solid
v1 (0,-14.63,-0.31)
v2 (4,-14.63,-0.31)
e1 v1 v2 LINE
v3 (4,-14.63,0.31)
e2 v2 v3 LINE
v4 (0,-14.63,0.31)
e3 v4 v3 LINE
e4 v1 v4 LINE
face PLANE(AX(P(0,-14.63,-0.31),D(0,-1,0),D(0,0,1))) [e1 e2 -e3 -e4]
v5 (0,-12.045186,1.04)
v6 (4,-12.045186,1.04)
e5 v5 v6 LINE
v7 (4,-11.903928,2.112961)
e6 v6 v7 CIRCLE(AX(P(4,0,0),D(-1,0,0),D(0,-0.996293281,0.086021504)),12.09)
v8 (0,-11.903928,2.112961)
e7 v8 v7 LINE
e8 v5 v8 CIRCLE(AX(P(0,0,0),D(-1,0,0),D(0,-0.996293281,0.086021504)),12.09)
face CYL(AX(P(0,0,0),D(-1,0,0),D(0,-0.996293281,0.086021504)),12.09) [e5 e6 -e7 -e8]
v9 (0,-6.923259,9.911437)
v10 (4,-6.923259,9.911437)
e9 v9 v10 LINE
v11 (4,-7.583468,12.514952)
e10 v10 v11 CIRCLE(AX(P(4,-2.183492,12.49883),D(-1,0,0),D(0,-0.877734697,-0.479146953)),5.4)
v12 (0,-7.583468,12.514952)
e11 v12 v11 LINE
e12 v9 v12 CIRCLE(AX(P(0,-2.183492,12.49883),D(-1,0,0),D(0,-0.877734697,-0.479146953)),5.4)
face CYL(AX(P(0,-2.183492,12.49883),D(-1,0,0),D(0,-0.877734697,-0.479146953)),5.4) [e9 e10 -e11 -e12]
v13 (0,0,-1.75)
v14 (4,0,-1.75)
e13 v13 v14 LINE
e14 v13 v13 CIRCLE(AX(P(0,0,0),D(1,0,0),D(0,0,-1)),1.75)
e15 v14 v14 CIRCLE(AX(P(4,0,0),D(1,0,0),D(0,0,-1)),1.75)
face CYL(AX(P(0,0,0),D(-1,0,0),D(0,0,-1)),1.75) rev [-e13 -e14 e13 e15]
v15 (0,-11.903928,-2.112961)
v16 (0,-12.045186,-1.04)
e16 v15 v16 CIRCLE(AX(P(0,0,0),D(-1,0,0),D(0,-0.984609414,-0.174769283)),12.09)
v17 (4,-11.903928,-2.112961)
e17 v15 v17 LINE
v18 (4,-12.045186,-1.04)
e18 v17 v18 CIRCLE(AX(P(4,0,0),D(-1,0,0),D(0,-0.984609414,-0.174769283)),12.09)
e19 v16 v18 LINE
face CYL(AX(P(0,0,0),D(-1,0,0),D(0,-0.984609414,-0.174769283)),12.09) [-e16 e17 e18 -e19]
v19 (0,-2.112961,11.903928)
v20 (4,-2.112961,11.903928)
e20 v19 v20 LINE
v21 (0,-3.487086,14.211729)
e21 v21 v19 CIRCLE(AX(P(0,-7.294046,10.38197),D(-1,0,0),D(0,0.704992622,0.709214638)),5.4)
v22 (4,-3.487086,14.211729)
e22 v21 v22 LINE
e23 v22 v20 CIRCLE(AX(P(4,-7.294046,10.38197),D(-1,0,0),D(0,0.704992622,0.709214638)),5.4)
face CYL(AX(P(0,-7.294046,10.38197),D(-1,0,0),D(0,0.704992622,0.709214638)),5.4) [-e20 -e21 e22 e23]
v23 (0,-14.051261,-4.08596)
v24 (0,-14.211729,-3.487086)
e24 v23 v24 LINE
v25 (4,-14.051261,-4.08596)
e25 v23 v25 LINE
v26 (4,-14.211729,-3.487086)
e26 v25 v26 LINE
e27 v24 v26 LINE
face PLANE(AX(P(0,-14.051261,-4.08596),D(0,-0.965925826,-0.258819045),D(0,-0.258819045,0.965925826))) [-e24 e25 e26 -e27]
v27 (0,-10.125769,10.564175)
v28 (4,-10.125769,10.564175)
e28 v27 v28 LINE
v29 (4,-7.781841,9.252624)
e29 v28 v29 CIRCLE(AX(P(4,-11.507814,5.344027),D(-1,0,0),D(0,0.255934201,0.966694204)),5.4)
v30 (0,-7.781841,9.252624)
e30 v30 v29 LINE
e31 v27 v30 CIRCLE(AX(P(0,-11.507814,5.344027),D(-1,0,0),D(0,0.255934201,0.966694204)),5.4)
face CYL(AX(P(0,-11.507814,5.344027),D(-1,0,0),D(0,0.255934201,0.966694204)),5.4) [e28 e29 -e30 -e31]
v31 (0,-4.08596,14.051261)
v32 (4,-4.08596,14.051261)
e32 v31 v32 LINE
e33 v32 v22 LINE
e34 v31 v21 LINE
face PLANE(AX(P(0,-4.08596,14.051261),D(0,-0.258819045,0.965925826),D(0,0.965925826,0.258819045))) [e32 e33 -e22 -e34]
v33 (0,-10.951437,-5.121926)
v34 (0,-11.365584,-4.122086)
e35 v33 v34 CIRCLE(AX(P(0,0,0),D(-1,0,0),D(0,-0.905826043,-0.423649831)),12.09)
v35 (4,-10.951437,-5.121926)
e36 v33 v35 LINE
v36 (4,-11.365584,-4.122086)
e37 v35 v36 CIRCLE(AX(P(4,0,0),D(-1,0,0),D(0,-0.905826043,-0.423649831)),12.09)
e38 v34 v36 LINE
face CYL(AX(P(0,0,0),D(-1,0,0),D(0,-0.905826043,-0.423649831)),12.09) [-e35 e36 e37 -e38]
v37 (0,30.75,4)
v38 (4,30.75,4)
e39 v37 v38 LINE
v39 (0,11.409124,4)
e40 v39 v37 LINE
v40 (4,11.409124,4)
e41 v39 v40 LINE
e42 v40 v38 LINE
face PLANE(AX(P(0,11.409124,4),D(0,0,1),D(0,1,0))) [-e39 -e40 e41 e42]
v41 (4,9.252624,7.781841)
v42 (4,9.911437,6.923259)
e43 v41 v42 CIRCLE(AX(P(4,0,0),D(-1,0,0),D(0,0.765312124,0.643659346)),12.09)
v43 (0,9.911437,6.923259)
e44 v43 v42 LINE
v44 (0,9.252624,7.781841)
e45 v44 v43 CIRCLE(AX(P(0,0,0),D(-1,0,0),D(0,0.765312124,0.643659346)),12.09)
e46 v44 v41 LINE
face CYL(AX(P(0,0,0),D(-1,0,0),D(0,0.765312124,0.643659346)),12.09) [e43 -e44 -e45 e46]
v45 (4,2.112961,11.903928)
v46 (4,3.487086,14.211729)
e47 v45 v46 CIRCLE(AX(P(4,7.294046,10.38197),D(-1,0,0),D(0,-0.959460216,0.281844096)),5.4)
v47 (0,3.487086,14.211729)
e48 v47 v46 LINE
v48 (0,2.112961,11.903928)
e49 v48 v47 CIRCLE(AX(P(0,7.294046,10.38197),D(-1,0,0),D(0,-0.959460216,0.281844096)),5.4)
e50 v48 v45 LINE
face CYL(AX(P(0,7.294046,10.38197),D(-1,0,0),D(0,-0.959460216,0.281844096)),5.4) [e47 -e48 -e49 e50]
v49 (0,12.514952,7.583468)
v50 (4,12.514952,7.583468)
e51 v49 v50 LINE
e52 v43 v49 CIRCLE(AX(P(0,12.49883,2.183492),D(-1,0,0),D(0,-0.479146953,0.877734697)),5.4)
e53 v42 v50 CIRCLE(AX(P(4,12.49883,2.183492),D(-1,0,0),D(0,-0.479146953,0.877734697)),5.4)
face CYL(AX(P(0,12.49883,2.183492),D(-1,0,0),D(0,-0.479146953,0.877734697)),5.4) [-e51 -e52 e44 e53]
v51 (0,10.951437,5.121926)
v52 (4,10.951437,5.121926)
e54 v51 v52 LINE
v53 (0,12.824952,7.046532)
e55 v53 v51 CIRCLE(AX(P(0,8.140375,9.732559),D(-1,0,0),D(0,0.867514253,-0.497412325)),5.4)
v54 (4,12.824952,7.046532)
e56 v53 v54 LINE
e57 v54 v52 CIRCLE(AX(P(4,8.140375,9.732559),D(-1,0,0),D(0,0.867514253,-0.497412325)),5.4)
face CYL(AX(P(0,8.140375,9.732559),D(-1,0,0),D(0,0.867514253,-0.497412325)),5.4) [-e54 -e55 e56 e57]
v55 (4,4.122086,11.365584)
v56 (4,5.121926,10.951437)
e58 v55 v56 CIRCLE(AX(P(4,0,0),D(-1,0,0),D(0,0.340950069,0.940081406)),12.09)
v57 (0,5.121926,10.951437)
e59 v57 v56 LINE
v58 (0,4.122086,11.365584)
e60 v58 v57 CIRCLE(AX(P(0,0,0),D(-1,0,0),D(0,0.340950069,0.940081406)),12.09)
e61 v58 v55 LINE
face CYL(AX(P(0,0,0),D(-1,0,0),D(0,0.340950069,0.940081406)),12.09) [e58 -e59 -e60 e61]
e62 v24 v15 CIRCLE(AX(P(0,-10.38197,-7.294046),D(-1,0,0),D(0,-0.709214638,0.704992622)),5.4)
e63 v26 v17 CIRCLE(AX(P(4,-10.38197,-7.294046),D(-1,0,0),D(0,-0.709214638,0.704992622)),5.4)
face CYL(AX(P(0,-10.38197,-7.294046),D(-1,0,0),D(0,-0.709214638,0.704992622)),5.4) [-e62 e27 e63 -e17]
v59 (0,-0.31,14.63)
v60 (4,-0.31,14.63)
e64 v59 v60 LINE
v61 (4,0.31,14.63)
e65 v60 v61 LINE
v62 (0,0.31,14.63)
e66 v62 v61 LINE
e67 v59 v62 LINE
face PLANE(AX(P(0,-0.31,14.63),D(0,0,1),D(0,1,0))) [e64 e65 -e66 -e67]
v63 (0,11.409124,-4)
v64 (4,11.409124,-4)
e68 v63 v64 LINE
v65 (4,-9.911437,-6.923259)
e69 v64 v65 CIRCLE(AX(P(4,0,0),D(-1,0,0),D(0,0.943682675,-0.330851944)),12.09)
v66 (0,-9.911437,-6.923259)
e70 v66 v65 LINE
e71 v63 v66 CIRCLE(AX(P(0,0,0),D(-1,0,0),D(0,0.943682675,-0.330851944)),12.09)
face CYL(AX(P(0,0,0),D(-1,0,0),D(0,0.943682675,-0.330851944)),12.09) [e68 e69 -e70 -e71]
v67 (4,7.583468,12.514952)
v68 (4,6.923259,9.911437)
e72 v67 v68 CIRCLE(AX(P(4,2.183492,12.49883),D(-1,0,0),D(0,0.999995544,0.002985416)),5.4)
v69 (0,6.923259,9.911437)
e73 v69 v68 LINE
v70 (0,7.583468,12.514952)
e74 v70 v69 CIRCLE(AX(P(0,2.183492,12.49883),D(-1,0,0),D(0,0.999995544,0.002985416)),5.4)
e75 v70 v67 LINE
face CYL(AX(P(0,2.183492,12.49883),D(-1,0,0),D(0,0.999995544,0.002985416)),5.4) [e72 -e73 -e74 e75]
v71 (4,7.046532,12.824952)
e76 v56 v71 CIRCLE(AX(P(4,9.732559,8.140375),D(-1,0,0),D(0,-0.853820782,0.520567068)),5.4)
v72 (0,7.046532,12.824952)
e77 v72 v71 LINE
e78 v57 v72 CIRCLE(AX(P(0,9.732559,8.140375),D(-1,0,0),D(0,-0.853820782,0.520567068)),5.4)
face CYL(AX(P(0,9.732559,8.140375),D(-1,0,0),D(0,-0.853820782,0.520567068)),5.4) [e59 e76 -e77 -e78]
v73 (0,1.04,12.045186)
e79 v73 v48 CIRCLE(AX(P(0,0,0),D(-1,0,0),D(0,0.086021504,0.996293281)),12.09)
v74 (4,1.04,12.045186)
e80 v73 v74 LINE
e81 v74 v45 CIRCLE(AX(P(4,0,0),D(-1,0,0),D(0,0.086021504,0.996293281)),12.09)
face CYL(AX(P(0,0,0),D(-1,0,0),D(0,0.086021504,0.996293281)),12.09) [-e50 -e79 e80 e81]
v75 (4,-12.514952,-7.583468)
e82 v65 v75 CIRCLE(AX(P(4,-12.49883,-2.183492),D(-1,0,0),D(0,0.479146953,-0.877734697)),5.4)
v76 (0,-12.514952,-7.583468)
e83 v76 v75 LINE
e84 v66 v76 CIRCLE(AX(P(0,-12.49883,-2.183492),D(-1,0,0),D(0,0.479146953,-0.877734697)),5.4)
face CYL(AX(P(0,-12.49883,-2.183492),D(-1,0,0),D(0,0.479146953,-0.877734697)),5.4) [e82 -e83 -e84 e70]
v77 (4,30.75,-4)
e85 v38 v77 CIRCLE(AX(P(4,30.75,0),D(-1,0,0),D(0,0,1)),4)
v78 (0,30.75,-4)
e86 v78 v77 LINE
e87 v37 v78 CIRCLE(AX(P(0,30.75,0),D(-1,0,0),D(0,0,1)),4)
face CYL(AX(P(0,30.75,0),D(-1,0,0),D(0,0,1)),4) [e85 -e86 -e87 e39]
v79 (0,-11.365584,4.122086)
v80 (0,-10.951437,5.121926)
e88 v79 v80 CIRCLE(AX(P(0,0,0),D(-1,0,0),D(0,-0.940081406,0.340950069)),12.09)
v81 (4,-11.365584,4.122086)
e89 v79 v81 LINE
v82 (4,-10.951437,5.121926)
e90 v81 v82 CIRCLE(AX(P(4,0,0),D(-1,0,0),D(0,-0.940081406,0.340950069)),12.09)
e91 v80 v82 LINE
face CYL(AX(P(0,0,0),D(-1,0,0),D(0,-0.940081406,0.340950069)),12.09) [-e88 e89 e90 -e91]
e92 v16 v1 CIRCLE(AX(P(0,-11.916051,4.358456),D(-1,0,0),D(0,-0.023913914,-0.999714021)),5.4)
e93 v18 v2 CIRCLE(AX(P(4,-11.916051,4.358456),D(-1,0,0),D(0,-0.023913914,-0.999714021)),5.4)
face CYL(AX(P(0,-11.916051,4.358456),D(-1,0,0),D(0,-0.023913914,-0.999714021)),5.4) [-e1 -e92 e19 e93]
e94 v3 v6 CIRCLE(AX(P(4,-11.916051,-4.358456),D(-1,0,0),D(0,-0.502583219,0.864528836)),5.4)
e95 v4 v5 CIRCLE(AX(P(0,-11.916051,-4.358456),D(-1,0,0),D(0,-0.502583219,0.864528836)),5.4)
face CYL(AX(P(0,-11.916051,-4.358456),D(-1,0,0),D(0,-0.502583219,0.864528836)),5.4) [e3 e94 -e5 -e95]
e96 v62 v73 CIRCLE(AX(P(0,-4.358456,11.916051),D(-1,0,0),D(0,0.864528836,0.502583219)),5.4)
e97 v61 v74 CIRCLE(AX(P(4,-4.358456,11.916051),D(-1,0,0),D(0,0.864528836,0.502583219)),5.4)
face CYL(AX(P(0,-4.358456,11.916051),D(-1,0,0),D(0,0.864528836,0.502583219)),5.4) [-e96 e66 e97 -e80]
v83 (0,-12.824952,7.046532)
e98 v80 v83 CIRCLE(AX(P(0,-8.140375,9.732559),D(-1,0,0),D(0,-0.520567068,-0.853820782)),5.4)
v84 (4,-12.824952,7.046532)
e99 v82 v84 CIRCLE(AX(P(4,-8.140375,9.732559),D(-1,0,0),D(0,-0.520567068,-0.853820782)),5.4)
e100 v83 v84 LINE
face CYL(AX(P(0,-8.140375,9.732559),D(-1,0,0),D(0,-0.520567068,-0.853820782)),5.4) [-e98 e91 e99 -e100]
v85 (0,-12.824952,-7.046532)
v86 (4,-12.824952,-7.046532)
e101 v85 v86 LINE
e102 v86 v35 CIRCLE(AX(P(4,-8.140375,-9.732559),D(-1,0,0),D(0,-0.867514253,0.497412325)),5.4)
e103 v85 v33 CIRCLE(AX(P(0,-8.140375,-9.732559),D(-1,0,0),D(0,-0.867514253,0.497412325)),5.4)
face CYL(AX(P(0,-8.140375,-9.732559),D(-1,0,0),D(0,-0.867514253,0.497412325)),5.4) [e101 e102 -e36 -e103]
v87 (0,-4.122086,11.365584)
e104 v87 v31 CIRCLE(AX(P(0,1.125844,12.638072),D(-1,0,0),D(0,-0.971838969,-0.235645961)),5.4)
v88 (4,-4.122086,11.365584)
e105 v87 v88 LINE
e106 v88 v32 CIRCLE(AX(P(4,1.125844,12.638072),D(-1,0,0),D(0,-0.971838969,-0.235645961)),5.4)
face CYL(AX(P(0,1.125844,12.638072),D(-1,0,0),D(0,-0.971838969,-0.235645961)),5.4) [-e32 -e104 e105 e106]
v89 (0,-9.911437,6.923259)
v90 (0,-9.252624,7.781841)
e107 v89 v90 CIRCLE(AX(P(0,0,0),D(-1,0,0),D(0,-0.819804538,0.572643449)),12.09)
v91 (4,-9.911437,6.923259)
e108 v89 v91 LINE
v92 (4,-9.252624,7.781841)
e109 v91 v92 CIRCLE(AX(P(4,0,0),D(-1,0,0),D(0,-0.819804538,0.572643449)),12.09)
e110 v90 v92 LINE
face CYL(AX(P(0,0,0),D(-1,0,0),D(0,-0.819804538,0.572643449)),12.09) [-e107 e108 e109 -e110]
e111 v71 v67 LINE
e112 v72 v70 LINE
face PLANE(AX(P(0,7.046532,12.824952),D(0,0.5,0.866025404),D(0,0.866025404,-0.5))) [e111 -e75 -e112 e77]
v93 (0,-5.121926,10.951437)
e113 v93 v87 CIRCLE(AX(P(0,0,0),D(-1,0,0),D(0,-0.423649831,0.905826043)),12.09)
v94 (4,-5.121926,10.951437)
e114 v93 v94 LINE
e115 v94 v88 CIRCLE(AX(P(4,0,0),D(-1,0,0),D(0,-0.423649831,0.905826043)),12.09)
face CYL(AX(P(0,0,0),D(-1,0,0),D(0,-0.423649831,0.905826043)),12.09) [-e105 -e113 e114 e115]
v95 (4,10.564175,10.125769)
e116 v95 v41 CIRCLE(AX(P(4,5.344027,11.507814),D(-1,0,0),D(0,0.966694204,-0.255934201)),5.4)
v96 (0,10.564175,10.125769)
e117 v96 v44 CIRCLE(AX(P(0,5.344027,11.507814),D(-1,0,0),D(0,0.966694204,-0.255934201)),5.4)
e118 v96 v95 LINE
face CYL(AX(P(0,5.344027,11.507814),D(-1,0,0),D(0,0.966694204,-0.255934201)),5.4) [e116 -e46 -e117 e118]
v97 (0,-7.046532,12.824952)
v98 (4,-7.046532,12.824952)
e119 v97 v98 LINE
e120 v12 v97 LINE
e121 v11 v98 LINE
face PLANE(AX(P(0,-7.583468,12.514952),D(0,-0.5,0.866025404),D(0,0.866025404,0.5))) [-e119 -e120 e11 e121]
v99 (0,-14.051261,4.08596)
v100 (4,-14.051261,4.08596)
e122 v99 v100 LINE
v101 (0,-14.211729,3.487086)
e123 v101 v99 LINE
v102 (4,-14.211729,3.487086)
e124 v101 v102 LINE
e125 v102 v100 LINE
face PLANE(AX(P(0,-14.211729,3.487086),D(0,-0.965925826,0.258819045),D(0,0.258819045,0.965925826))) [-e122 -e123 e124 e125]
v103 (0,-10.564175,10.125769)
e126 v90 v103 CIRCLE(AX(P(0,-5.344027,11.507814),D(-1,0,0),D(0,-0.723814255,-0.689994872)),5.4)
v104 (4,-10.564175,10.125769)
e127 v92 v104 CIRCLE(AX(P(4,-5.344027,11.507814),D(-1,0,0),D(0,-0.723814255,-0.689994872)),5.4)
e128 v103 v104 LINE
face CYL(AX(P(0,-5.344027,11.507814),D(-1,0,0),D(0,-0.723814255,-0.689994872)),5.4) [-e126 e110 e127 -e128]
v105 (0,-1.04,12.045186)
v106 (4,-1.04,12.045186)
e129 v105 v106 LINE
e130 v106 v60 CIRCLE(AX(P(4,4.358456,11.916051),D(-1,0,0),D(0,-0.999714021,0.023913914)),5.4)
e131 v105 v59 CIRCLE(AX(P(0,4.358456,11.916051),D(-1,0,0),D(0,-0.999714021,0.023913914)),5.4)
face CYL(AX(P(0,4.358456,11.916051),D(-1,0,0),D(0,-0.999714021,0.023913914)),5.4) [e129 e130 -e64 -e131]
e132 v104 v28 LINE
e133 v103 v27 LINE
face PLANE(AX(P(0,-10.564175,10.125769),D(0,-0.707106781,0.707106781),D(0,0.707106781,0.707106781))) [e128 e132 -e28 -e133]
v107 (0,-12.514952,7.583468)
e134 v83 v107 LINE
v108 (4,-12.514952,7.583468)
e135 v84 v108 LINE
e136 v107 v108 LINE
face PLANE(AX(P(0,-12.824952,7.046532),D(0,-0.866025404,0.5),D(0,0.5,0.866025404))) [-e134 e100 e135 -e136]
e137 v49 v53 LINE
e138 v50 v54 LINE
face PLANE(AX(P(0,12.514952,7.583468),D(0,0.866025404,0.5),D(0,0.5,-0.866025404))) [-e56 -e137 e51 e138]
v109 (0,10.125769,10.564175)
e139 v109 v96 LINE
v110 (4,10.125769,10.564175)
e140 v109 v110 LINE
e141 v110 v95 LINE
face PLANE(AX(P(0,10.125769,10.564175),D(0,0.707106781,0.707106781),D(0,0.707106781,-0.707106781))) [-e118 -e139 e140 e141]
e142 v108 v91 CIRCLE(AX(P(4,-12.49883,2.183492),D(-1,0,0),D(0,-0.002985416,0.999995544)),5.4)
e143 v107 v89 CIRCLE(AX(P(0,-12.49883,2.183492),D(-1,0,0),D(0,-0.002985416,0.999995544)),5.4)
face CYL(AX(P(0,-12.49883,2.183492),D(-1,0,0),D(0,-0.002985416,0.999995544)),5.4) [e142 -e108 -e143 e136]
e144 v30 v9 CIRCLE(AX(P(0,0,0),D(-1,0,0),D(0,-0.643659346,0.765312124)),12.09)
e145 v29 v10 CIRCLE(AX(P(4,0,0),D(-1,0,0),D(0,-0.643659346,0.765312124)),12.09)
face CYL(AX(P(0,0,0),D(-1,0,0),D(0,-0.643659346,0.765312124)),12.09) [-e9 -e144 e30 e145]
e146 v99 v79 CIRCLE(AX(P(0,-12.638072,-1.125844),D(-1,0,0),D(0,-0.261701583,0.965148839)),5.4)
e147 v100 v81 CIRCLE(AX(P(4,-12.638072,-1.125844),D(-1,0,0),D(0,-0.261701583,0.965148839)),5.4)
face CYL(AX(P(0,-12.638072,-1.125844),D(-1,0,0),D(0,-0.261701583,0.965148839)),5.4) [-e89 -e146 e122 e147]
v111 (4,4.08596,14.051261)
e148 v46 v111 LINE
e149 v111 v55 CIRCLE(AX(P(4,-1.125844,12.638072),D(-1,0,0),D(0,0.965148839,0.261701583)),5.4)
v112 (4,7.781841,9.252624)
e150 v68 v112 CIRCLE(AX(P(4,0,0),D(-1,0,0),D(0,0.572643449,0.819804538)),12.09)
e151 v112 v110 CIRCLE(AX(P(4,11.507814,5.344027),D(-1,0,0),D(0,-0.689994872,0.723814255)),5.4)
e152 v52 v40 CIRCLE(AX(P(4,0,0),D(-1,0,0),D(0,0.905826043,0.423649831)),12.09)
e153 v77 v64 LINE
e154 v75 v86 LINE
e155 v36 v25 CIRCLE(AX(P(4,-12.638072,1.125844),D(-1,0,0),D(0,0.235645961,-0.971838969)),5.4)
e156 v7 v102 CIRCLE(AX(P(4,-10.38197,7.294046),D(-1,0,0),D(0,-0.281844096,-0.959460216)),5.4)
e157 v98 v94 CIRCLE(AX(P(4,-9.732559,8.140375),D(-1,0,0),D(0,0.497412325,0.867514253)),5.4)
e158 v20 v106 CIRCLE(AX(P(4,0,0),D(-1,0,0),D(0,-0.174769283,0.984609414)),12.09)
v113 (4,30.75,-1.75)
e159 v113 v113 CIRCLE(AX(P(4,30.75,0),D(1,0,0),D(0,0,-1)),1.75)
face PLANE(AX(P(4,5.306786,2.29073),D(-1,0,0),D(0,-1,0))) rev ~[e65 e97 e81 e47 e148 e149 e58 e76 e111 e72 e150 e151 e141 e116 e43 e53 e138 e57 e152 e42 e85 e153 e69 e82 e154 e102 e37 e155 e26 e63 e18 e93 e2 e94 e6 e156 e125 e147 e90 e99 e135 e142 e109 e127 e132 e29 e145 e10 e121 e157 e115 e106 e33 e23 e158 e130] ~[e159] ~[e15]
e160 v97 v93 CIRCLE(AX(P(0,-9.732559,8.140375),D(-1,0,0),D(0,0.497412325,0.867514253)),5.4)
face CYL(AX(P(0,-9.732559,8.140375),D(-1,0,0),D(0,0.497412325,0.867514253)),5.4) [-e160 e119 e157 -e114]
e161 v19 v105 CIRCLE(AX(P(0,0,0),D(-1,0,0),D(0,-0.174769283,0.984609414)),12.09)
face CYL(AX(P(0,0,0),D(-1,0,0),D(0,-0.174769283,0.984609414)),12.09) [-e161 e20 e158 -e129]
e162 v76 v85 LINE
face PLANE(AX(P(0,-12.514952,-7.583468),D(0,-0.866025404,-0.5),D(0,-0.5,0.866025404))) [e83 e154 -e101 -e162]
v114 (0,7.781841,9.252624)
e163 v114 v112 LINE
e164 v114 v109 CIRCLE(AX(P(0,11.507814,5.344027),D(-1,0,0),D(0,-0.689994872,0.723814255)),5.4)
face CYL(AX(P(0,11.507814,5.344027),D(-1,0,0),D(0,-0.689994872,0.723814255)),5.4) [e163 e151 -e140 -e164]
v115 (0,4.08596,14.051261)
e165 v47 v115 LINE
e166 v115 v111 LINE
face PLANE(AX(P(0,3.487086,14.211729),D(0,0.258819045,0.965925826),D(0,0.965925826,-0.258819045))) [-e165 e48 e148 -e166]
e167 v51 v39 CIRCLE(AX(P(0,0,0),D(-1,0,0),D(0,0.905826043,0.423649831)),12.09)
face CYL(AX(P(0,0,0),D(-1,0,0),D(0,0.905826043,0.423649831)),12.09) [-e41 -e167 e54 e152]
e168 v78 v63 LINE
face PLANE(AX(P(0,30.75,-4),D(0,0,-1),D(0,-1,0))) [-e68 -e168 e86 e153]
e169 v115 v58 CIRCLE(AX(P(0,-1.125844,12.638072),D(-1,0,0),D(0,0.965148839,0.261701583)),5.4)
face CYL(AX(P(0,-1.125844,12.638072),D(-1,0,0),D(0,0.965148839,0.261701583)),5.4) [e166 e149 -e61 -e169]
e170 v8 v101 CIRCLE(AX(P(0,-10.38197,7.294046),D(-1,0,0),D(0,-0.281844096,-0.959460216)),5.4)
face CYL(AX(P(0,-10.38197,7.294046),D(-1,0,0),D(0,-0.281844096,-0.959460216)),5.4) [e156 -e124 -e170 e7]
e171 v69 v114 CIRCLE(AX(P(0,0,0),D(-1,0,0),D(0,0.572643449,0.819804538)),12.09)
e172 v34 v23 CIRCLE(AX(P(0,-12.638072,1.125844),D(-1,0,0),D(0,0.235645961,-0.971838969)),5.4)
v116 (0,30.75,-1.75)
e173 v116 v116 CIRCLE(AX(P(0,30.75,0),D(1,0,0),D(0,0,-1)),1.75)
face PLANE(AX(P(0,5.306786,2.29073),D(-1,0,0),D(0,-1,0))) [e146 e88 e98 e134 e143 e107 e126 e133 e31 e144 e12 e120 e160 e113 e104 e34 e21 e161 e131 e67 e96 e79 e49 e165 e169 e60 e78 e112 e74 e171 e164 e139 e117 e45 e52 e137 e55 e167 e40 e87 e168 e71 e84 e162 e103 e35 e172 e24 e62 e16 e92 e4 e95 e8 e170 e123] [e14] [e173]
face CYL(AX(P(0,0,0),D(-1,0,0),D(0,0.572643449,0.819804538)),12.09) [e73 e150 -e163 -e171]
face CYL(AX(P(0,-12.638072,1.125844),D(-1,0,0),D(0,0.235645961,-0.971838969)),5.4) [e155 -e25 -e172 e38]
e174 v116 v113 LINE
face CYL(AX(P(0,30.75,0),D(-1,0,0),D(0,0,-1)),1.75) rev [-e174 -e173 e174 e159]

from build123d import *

# Parameters (mm, degrees)
SKETCH1_R           = 1.75
BOSS_EXTRUDE1_DEPTH = 4


with BuildPart() as part:
    # Sketch1 → Boss-Extrude1 (new body)
    with BuildSketch(Plane.YZ):
        with BuildLine():
            Line((-0.31, 14.63), (0.31, 14.63))
            ThreePointArc((0.31, 14.63), (0.838273314, 13.383704325), (1.04, 12.04518576))
            ThreePointArc((1.04, 12.04518576), (1.578061664, 11.986568374), (2.112960617, 11.903927815))
            ThreePointArc((2.112960617, 11.903927815), (2.65424773, 13.144626757), (3.487085624, 14.211728743))
            Line((3.487085624, 14.211728743), (4.085959636, 14.051260935))
            ThreePointArc((4.085959636, 14.051260935), (4.273667417, 12.71070456), (4.122086336, 11.365584201))
            ThreePointArc((4.122086336, 11.365584201), (4.626642697, 11.169703548), (5.12192646, 10.951436862))
            ThreePointArc((5.12192646, 10.951436862), (5.965886177, 12.009764599), (7.046532125, 12.824951657))
            Line((7.046532125, 12.824951657), (7.583467875, 12.514951657))
            ThreePointArc((7.583467875, 12.514951657), (7.417818147, 11.171491285), (6.9232593, 9.911436862))
            ThreePointArc((6.9232593, 9.911436862), (7.359925677, 9.591641884), (7.781841479, 9.252623584))
            ThreePointArc((7.781841479, 9.252623584), (8.870959341, 10.05645683), (10.125769107, 10.564175311))
            Line((10.125769107, 10.564175311), (10.564175311, 10.125769107))
            ThreePointArc((10.564175311, 10.125769107), (10.05645683, 8.870959341), (9.252623584, 7.781841479))
            ThreePointArc((9.252623584, 7.781841479), (9.591641884, 7.359925677), (9.911436862, 6.9232593))
            ThreePointArc((9.911436862, 6.9232593), (11.171491285, 7.417818147), (12.514951657, 7.583467875))
            Line((12.514951657, 7.583467875), (12.824951657, 7.046532125))
            ThreePointArc((12.824951657, 7.046532125), (12.009764599, 5.965886177), (10.951436862, 5.12192646))
            ThreePointArc((10.951436862, 5.12192646), (11.194344337, 4.566700654), (11.409123542, 4))
            Line((11.409123542, 4), (30.75, 4))
            ThreePointArc((30.75, 4), (34.75, 0), (30.75, -4))
            Line((30.75, -4), (11.409123542, -4))
            ThreePointArc((11.409123542, -4), (1.642293391, -11.977936902), (-9.911436862, -6.9232593))
            ThreePointArc((-9.911436862, -6.9232593), (-11.171491285, -7.417818147), (-12.514951657, -7.583467875))
            Line((-12.514951657, -7.583467875), (-12.824951657, -7.046532125))
            ThreePointArc((-12.824951657, -7.046532125), (-12.009764599, -5.965886177), (-10.951436862, -5.12192646))
            ThreePointArc((-10.951436862, -5.12192646), (-11.169703548, -4.626642697), (-11.365584201, -4.122086336))
            ThreePointArc((-11.365584201, -4.122086336), (-12.71070456, -4.273667417), (-14.051260935, -4.085959636))
            Line((-14.051260935, -4.085959636), (-14.211728743, -3.487085624))
            ThreePointArc((-14.211728743, -3.487085624), (-13.144626757, -2.65424773), (-11.903927815, -2.112960617))
            ThreePointArc((-11.903927815, -2.112960617), (-11.986568374, -1.578061664), (-12.04518576, -1.04))
            ThreePointArc((-12.04518576, -1.04), (-13.383704325, -0.838273314), (-14.63, -0.31))
            Line((-14.63, -0.31), (-14.63, 0.31))
            ThreePointArc((-14.63, 0.31), (-13.383704325, 0.838273314), (-12.04518576, 1.04))
            ThreePointArc((-12.04518576, 1.04), (-11.986568374, 1.578061664), (-11.903927815, 2.112960617))
            ThreePointArc((-11.903927815, 2.112960617), (-13.144626757, 2.65424773), (-14.211728743, 3.487085624))
            Line((-14.211728743, 3.487085624), (-14.051260935, 4.085959636))
            ThreePointArc((-14.051260935, 4.085959636), (-12.71070456, 4.273667417), (-11.365584201, 4.122086336))
            ThreePointArc((-11.365584201, 4.122086336), (-11.169703548, 4.626642697), (-10.951436862, 5.12192646))
            ThreePointArc((-10.951436862, 5.12192646), (-12.009764599, 5.965886177), (-12.824951657, 7.046532125))
            Line((-12.824951657, 7.046532125), (-12.514951657, 7.583467875))
            ThreePointArc((-12.514951657, 7.583467875), (-11.171491285, 7.417818147), (-9.911436862, 6.9232593))
            ThreePointArc((-9.911436862, 6.9232593), (-9.591641884, 7.359925677), (-9.252623584, 7.781841479))
            ThreePointArc((-9.252623584, 7.781841479), (-10.05645683, 8.870959341), (-10.564175311, 10.125769107))
            Line((-10.564175311, 10.125769107), (-10.125769107, 10.564175311))
            ThreePointArc((-10.125769107, 10.564175311), (-8.870959341, 10.05645683), (-7.781841479, 9.252623584))
            ThreePointArc((-7.781841479, 9.252623584), (-7.359925677, 9.591641884), (-6.9232593, 9.911436862))
            ThreePointArc((-6.9232593, 9.911436862), (-7.417818147, 11.171491285), (-7.583467875, 12.514951657))
            Line((-7.583467875, 12.514951657), (-7.046532125, 12.824951657))
            ThreePointArc((-7.046532125, 12.824951657), (-5.965886177, 12.009764599), (-5.12192646, 10.951436862))
            ThreePointArc((-5.12192646, 10.951436862), (-4.626642697, 11.169703548), (-4.122086336, 11.365584201))
            ThreePointArc((-4.122086336, 11.365584201), (-4.273667417, 12.71070456), (-4.085959636, 14.051260935))
            Line((-4.085959636, 14.051260935), (-3.487085624, 14.211728743))
            ThreePointArc((-3.487085624, 14.211728743), (-2.65424773, 13.144626757), (-2.112960617, 11.903927815))
            ThreePointArc((-2.112960617, 11.903927815), (-1.578061664, 11.986568374), (-1.04, 12.04518576))
            ThreePointArc((-1.04, 12.04518576), (-0.838273314, 13.383704325), (-0.31, 14.63))
        make_face()
        with Locations(Location((0, 0, 0), (0, 0, 270))):
            Circle(SKETCH1_R, mode=Mode.SUBTRACT)
        with Locations(Location((30.75, 0, 0), (0, 0, 270))):
            Circle(SKETCH1_R, mode=Mode.SUBTRACT)
    extrude(amount=BOSS_EXTRUDE1_DEPTH)


solid = part.part
